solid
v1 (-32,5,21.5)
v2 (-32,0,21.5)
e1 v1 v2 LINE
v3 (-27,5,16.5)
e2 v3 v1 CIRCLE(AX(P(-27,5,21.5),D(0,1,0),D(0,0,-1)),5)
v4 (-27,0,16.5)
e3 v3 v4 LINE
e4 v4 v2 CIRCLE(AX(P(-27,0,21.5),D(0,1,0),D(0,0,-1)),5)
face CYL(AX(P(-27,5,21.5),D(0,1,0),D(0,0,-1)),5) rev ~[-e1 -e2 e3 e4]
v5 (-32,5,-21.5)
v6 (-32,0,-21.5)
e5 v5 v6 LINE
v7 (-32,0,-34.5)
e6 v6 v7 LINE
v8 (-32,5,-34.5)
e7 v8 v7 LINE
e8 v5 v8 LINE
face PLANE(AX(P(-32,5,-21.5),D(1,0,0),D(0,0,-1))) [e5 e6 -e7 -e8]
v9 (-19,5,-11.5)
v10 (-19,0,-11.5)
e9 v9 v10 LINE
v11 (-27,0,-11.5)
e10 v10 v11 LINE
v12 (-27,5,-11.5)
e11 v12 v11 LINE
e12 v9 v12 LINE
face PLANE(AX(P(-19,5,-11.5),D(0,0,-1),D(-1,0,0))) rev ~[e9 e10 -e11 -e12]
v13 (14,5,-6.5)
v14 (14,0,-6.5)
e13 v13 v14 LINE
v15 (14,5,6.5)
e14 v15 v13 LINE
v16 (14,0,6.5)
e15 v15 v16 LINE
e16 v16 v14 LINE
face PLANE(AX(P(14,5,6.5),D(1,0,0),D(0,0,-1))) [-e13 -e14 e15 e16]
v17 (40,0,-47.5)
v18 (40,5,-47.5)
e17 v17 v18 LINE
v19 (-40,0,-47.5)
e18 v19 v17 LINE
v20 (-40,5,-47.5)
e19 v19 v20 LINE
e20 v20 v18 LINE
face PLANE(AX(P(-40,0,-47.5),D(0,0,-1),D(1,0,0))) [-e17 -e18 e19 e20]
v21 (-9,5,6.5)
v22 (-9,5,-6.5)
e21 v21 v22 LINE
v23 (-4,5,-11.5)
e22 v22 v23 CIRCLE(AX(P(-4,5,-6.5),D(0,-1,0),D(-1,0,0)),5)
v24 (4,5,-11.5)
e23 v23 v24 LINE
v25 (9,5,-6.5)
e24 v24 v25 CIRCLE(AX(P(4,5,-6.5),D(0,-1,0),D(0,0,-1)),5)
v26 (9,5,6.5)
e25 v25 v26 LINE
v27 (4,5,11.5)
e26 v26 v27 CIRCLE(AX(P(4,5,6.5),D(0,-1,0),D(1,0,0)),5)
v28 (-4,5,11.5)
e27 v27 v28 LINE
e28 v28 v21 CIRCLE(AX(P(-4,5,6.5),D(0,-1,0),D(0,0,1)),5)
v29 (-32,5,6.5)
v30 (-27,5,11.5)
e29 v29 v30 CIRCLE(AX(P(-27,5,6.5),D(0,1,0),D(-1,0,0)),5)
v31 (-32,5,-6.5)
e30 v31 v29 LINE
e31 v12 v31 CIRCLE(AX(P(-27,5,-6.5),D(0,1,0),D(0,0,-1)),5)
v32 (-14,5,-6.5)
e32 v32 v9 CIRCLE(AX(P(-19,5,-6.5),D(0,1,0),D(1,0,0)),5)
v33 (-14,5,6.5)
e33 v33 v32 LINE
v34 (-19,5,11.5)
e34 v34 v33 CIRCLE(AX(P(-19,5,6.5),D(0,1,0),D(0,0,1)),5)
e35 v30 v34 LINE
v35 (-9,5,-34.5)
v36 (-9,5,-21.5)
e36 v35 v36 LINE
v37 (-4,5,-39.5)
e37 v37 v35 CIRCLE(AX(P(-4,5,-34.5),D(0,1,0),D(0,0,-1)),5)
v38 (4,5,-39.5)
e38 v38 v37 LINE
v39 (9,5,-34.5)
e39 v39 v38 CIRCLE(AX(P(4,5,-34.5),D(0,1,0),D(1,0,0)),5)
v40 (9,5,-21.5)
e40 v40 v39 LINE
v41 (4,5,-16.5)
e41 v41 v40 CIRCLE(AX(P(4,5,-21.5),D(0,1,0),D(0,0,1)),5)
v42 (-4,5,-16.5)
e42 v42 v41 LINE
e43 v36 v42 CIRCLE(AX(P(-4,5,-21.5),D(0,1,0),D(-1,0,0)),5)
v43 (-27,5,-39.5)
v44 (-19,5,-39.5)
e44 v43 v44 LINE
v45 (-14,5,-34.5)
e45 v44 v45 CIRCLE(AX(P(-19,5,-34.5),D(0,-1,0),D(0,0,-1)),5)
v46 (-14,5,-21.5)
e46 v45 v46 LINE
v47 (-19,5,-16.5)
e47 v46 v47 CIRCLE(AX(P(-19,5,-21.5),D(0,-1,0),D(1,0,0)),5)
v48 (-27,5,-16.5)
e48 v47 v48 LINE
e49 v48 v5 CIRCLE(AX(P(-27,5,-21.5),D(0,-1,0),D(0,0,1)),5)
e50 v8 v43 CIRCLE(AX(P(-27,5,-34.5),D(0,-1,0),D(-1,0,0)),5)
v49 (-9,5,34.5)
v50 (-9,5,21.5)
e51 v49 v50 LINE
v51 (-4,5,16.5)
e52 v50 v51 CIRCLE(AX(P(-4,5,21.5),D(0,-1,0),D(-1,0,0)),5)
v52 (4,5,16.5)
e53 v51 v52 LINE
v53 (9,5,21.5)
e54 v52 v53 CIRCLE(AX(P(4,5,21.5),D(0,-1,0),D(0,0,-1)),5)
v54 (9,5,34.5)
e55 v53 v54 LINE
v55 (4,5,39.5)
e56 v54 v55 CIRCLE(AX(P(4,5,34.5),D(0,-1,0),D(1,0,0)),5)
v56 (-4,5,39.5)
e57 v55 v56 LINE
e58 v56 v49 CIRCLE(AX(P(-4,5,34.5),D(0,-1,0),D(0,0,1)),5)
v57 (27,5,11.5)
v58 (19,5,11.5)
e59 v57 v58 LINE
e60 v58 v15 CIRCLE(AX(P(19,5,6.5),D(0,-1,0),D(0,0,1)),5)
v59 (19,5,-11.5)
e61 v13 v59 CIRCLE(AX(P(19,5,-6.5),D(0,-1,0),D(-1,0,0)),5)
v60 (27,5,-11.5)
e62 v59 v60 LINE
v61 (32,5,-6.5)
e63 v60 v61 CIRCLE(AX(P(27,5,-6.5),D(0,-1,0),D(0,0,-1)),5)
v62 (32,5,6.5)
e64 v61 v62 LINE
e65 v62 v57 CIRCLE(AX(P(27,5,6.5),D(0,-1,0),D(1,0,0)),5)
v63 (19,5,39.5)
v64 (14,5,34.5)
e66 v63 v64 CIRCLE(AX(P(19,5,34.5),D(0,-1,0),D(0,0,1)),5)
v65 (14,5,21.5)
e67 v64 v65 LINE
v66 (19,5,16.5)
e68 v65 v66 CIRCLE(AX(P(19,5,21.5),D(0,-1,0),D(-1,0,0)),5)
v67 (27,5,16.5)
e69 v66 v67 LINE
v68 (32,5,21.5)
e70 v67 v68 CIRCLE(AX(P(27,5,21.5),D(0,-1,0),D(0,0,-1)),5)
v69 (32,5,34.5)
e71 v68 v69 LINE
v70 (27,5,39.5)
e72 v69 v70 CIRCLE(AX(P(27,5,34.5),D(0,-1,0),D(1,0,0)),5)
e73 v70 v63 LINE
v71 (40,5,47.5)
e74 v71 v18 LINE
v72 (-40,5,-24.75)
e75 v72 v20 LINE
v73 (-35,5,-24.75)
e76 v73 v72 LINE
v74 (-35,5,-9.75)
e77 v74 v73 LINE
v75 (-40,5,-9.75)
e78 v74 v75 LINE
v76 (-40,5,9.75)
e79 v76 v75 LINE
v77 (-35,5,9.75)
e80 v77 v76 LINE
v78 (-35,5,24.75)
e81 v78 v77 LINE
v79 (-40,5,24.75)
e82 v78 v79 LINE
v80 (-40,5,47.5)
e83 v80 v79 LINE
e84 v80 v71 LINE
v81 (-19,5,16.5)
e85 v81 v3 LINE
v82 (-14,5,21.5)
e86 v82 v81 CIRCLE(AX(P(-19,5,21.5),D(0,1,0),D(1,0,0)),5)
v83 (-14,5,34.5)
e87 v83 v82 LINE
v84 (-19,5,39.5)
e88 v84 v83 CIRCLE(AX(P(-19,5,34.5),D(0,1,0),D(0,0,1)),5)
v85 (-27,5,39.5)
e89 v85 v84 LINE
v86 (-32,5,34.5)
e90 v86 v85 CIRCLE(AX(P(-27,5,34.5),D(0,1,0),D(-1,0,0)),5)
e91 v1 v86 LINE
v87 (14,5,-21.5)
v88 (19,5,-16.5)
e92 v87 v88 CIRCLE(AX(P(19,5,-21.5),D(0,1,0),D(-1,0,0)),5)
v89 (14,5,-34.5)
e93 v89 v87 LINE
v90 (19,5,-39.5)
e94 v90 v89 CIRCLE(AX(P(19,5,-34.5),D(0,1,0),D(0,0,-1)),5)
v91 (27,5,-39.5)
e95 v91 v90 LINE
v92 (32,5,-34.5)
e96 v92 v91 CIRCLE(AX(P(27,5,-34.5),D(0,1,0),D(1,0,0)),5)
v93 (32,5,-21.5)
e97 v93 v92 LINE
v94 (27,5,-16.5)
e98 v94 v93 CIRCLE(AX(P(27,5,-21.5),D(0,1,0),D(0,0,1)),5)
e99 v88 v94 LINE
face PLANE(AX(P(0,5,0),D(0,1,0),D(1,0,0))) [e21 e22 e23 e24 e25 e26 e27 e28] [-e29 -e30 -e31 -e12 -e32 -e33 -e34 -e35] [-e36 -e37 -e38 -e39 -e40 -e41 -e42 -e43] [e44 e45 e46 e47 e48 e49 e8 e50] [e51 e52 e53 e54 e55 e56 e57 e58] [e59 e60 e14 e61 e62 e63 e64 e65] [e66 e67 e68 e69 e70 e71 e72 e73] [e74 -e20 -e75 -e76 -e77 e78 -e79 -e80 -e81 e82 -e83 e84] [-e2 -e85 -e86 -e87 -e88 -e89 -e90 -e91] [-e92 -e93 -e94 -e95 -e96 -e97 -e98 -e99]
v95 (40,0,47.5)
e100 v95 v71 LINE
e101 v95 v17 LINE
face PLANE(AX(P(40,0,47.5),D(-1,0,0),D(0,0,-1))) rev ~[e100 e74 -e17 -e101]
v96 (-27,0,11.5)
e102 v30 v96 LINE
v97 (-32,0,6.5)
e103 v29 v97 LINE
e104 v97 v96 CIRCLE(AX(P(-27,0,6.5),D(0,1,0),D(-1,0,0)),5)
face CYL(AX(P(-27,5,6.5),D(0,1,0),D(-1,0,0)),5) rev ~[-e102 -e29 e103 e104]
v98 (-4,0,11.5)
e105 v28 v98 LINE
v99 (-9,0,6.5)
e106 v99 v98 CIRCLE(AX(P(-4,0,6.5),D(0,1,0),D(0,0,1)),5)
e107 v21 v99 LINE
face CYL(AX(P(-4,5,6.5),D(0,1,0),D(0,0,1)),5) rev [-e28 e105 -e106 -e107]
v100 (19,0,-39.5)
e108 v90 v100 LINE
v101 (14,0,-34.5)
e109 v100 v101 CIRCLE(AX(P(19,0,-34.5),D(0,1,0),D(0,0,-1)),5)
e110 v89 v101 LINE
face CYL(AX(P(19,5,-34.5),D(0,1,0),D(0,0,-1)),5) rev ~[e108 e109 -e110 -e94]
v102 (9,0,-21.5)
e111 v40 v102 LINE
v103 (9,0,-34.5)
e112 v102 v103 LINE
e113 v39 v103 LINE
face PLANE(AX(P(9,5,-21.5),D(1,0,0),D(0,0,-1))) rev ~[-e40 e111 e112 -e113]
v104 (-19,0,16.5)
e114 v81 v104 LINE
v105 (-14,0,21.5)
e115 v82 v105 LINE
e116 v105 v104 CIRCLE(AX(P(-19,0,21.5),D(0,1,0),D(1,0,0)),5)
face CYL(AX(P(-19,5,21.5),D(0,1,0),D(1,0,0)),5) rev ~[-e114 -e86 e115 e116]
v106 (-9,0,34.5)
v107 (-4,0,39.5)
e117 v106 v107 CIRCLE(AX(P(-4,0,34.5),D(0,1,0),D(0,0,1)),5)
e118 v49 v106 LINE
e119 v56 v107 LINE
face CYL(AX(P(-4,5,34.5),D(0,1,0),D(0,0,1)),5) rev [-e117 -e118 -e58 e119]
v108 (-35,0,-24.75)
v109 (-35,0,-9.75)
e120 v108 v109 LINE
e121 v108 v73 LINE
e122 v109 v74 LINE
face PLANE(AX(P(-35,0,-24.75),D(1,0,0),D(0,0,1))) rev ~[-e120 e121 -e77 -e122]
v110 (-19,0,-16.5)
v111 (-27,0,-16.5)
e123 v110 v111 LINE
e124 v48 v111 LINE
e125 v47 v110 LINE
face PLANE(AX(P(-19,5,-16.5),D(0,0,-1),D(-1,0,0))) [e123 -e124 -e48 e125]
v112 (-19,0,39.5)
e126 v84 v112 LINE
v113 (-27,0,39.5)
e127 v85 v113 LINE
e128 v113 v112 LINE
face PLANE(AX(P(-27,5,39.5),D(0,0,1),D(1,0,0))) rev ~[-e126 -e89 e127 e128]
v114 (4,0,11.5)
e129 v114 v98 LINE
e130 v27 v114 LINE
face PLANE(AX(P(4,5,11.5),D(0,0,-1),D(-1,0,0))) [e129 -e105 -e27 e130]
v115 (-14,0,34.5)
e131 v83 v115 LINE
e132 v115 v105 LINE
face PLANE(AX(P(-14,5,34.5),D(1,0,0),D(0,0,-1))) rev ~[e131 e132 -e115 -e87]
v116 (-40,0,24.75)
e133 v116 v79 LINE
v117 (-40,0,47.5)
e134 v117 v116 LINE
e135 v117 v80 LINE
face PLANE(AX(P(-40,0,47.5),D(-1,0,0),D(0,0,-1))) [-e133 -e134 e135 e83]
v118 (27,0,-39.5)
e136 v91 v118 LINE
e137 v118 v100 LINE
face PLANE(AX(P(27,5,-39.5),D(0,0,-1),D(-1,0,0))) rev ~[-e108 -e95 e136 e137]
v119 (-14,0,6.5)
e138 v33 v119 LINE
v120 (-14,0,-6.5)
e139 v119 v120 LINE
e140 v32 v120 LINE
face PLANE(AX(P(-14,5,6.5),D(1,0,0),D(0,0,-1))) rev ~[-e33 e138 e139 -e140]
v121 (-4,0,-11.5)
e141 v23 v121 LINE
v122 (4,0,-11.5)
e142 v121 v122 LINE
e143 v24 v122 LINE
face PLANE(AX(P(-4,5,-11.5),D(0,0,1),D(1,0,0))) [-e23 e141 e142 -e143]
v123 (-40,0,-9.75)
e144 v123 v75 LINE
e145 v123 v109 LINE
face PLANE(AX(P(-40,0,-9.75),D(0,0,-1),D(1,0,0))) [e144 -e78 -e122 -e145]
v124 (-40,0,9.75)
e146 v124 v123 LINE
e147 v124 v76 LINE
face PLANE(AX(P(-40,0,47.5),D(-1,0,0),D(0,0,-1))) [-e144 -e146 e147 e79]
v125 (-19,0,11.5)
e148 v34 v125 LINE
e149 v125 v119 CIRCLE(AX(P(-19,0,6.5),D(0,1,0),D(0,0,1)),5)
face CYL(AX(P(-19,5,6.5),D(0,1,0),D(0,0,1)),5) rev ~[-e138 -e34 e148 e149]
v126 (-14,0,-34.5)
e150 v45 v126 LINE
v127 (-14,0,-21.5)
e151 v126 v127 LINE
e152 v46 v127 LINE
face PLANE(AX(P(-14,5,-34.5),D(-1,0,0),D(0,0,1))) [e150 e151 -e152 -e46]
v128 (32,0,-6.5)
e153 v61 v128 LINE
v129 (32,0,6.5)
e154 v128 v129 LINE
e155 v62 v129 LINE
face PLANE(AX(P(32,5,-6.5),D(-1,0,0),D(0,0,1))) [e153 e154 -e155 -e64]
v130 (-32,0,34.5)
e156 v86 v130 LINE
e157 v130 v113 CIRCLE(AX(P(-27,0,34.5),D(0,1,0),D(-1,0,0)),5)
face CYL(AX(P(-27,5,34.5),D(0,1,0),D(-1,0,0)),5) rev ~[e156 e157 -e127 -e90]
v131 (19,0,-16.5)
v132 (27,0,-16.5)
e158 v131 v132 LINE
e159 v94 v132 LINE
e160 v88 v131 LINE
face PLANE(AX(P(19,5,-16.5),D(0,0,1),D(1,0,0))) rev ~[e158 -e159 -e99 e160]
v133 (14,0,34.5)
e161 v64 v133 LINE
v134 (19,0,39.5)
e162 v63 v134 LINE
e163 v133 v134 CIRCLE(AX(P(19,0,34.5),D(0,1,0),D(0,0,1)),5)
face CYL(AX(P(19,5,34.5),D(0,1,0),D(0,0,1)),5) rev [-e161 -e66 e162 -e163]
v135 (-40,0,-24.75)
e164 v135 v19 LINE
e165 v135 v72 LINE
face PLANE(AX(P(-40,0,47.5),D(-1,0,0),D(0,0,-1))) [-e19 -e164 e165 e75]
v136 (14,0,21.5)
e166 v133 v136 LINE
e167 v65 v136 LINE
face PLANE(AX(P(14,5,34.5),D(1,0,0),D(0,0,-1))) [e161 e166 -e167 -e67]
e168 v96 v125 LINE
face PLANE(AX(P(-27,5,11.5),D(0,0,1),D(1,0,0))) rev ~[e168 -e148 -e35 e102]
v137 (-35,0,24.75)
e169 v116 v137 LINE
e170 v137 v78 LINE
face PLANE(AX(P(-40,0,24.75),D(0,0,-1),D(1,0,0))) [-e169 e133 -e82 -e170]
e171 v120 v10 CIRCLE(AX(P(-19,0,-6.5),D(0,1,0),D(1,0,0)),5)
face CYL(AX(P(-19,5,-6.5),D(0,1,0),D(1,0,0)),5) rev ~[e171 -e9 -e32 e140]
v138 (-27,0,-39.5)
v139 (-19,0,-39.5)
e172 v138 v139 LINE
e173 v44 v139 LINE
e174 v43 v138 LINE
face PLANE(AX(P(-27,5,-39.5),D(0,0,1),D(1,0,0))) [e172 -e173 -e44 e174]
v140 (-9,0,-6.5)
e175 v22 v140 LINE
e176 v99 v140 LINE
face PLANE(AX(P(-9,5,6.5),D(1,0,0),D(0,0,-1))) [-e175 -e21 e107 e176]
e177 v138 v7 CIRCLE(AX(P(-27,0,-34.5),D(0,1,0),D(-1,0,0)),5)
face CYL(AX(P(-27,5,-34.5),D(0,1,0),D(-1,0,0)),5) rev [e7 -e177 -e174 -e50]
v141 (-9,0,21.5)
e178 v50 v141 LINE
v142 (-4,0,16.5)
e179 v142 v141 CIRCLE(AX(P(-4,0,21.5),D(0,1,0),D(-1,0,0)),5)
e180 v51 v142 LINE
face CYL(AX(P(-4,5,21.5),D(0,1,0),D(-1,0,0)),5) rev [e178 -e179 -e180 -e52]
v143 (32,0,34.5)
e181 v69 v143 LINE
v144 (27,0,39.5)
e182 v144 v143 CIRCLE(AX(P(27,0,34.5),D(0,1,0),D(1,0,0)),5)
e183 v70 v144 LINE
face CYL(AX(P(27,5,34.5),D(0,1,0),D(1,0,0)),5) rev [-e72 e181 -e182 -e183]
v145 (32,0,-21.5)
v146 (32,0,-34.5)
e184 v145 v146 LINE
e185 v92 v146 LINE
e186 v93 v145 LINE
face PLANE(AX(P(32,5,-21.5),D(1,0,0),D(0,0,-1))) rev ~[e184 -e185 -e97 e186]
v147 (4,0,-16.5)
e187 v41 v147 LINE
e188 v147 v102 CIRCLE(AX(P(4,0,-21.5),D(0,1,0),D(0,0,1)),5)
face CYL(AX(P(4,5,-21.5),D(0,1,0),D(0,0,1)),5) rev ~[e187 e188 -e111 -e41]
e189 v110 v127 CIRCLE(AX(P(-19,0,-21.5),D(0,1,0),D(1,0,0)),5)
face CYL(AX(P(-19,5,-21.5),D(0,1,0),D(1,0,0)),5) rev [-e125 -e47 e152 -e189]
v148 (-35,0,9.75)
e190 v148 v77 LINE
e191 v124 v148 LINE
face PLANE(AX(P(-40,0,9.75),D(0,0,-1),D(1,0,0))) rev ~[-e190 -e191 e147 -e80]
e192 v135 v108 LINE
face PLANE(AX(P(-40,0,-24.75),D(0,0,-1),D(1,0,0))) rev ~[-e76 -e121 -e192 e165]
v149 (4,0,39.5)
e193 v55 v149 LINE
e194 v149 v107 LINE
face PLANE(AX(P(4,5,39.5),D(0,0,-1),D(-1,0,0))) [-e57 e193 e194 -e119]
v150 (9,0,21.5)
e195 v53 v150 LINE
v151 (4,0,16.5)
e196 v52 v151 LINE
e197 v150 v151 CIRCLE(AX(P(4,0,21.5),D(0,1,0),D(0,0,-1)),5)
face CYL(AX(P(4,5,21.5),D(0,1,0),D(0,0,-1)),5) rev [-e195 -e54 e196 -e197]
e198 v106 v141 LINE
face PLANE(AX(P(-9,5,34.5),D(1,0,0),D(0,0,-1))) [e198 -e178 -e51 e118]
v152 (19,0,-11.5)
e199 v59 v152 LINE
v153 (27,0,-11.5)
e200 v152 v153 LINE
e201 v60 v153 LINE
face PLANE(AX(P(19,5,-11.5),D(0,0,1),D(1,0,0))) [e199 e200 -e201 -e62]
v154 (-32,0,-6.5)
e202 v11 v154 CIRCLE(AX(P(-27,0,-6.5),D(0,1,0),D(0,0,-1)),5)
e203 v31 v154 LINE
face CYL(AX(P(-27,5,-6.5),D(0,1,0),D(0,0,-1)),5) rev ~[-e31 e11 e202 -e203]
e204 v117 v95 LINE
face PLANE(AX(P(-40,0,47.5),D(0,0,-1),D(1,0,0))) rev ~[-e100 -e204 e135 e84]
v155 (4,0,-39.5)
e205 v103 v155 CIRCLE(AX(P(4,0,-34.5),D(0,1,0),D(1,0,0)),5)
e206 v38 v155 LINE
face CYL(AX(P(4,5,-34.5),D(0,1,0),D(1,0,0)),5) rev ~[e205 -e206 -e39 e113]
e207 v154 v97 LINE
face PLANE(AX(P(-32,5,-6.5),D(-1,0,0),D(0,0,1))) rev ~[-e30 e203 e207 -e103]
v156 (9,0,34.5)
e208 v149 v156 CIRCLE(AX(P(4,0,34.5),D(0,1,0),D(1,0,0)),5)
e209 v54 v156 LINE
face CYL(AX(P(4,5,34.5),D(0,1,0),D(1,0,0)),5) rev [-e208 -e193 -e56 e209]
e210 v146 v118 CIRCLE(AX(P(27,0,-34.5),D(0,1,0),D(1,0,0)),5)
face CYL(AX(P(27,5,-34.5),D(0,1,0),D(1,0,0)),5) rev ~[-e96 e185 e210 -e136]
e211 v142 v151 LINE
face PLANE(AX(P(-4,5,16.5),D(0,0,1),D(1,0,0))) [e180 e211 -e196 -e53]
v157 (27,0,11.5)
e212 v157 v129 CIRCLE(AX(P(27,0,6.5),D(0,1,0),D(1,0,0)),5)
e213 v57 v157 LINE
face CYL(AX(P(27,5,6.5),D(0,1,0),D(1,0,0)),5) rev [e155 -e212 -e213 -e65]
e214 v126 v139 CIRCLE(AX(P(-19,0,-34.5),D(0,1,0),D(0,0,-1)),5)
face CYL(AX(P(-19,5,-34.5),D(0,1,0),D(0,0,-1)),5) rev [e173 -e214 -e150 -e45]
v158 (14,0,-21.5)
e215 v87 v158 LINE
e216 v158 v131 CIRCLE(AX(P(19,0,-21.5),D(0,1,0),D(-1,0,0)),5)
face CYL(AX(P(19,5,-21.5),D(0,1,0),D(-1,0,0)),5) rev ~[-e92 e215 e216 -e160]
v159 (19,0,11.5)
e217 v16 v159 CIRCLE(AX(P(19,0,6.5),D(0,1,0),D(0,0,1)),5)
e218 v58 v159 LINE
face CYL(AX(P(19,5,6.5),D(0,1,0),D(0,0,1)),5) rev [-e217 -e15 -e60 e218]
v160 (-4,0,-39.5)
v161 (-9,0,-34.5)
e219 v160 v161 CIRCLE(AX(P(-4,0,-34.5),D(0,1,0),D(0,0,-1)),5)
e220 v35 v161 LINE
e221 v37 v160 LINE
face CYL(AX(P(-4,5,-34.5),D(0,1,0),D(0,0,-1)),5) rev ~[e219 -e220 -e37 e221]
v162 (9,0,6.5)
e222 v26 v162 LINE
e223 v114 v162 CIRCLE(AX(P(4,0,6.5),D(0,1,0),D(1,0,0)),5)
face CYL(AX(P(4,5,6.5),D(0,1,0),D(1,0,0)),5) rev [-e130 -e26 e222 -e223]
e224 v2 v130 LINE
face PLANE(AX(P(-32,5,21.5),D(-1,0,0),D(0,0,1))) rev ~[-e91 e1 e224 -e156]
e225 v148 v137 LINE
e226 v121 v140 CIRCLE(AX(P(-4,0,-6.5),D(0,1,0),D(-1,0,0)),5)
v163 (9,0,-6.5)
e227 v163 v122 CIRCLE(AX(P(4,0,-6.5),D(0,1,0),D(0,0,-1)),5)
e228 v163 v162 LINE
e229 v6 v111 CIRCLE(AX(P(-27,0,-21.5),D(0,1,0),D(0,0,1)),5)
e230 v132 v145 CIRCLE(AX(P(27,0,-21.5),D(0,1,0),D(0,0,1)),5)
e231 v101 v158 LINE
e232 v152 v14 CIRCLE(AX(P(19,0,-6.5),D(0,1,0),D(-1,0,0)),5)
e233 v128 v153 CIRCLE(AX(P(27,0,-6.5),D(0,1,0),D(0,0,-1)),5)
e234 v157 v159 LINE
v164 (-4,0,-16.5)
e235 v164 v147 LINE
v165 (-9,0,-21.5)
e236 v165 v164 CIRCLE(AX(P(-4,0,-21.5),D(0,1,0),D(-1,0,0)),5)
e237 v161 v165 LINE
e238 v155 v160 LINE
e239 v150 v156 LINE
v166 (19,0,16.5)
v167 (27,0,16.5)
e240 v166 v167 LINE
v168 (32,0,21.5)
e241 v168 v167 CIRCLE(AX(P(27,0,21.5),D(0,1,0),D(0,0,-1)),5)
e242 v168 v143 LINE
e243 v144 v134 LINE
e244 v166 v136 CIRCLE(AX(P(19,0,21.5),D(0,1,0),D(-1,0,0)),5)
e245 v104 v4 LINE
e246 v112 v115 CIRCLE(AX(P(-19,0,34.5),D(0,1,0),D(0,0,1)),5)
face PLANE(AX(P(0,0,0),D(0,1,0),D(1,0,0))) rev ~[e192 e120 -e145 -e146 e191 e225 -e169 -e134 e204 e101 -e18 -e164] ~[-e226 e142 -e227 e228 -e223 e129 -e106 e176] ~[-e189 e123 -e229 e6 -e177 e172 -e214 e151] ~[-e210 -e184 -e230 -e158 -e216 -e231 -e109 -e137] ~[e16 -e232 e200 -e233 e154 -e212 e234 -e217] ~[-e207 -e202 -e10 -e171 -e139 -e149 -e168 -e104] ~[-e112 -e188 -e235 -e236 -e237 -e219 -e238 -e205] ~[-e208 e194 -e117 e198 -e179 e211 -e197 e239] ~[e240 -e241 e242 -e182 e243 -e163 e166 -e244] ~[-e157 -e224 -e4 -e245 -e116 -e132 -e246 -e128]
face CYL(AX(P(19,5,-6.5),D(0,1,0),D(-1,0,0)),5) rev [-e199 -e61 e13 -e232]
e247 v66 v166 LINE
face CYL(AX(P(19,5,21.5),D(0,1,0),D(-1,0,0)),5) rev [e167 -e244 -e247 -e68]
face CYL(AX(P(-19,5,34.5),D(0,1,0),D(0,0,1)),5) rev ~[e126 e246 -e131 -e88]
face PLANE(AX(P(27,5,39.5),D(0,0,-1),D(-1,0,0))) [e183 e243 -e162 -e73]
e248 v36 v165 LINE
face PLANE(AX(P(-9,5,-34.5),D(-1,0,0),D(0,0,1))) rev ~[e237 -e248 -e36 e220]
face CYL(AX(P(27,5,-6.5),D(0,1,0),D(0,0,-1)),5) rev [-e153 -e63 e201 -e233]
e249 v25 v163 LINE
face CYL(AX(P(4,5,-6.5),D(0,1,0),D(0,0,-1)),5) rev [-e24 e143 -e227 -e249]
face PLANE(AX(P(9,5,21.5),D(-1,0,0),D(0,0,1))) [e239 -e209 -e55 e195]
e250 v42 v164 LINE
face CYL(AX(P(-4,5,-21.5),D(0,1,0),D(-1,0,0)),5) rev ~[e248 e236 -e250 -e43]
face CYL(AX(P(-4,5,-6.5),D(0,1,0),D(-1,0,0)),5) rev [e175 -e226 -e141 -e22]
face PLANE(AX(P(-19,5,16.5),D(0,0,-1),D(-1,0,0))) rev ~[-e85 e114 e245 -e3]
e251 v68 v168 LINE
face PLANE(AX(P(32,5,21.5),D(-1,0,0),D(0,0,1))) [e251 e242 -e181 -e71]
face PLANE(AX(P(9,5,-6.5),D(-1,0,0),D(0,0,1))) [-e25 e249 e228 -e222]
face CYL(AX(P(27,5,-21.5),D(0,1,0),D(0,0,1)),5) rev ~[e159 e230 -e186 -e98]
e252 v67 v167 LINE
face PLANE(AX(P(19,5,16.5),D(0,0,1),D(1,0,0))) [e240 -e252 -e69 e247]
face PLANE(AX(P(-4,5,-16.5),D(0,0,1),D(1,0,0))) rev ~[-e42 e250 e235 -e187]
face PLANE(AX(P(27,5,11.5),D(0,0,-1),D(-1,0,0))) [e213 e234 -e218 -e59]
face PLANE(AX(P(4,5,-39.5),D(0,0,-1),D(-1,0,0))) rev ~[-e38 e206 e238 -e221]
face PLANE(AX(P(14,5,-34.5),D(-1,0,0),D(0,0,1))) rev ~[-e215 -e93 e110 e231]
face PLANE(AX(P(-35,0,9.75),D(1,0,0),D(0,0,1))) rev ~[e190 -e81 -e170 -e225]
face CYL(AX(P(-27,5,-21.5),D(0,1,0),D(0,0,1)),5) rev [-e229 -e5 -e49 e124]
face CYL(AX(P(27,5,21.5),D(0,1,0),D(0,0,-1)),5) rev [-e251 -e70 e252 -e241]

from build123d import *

# Parameters (mm, degrees)
SKETCH_1_W          = 80
SKETCH_1_H          = 95
EXTRUDE_1_DEPTH     = 5
CUT_EXTRUDE_2_DEPTH = 10
SKETCH_18_W         = 5
SKETCH_18_H         = 15
CUT_EXTRUDE_4_DEPTH = 10


with BuildPart() as part:
    # 스케치1 → 보스-돌출1 (new body)
    with BuildSketch(Plane(origin=(0, 0, 0), x_dir=(1, 0, 0), z_dir=(0, 1, 0))):
        Rectangle(SKETCH_1_W, SKETCH_1_H)
    extrude(amount=EXTRUDE_1_DEPTH)

    # 스케치9 → 컷-돌출2 (cut)
    with BuildSketch(Plane(origin=(0, 5, 0), x_dir=(1, 0, 0), z_dir=(0, 1, 0))):
        with BuildLine():
            Line((-27, 39.5), (-19, 39.5))
            ThreePointArc((-19, 39.5), (-15.464466094, 38.035533906), (-14, 34.5))
            Line((-14, 34.5), (-14, 21.5))
            ThreePointArc((-14, 21.5), (-15.464466094, 17.964466094), (-19, 16.5))
            Line((-19, 16.5), (-27, 16.5))
            ThreePointArc((-27, 16.5), (-30.535533906, 17.964466094), (-32, 21.5))
            Line((-32, 21.5), (-32, 34.5))
            ThreePointArc((-32, 34.5), (-30.535533906, 38.035533906), (-27, 39.5))
        make_face()
        with BuildLine():
            Line((14, 34.5), (14, 21.5))
            ThreePointArc((14, 21.5), (15.464466094, 17.964466094), (19, 16.5))
            Line((19, 16.5), (27, 16.5))
            ThreePointArc((27, 16.5), (30.535533906, 17.964466094), (32, 21.5))
            Line((32, 21.5), (32, 34.5))
            ThreePointArc((32, 34.5), (30.535533906, 38.035533906), (27, 39.5))
            Line((27, 39.5), (19, 39.5))
            ThreePointArc((19, 39.5), (15.464466094, 38.035533906), (14, 34.5))
        make_face()
        with BuildLine():
            Line((4, 39.5), (-4, 39.5))
            ThreePointArc((-4, 39.5), (-7.535533906, 38.035533906), (-9, 34.5))
            Line((-9, 34.5), (-9, 21.5))
            ThreePointArc((-9, 21.5), (-7.535533906, 17.964466094), (-4, 16.5))
            Line((-4, 16.5), (4, 16.5))
            ThreePointArc((4, 16.5), (7.535533906, 17.964466094), (9, 21.5))
            Line((9, 21.5), (9, 34.5))
            ThreePointArc((9, 34.5), (7.535533906, 38.035533906), (4, 39.5))
        make_face()
        with BuildLine():
            Line((-19, -16.5), (-27, -16.5))
            ThreePointArc((-27, -16.5), (-30.535533906, -17.964466094), (-32, -21.5))
            Line((-32, -21.5), (-32, -34.5))
            ThreePointArc((-32, -34.5), (-30.535533906, -38.035533906), (-27, -39.5))
            Line((-27, -39.5), (-19, -39.5))
            ThreePointArc((-19, -39.5), (-15.464466094, -38.035533906), (-14, -34.5))
            Line((-14, -34.5), (-14, -21.5))
            ThreePointArc((-14, -21.5), (-15.464466094, -17.964466094), (-19, -16.5))
        make_face()
        with BuildLine():
            Line((-19, 11.5), (-27, 11.5))
            ThreePointArc((-27, 11.5), (-30.535533906, 10.035533906), (-32, 6.5))
            Line((-32, 6.5), (-32, -6.5))
            ThreePointArc((-32, -6.5), (-30.535533906, -10.035533906), (-27, -11.5))
            Line((-27, -11.5), (-19, -11.5))
            ThreePointArc((-19, -11.5), (-15.464466094, -10.035533906), (-14, -6.5))
            Line((-14, -6.5), (-14, 6.5))
            ThreePointArc((-14, 6.5), (-15.464466094, 10.035533906), (-19, 11.5))
        make_face()
        with BuildLine():
            Line((-4, 11.5), (4, 11.5))
            ThreePointArc((4, 11.5), (7.535533906, 10.035533906), (9, 6.5))
            Line((9, 6.5), (9, -6.5))
            ThreePointArc((9, -6.5), (7.535533906, -10.035533906), (4, -11.5))
            Line((4, -11.5), (-4, -11.5))
            ThreePointArc((-4, -11.5), (-7.535533906, -10.035533906), (-9, -6.5))
            Line((-9, -6.5), (-9, 6.5))
            ThreePointArc((-9, 6.5), (-7.535533906, 10.035533906), (-4, 11.5))
        make_face()
        with BuildLine():
            Line((19, 11.5), (27, 11.5))
            ThreePointArc((27, 11.5), (30.535533906, 10.035533906), (32, 6.5))
            Line((32, 6.5), (32, -6.5))
            ThreePointArc((32, -6.5), (30.535533906, -10.035533906), (27, -11.5))
            Line((27, -11.5), (19, -11.5))
            ThreePointArc((19, -11.5), (15.464466094, -10.035533906), (14, -6.5))
            Line((14, -6.5), (14, 6.5))
            ThreePointArc((14, 6.5), (15.464466094, 10.035533906), (19, 11.5))
        make_face()
        with BuildLine():
            Line((-4, -16.5), (4, -16.5))
            ThreePointArc((4, -16.5), (7.535533906, -17.964466094), (9, -21.5))
            Line((9, -21.5), (9, -34.5))
            ThreePointArc((9, -34.5), (7.535533906, -38.035533906), (4, -39.5))
            Line((4, -39.5), (-4, -39.5))
            ThreePointArc((-4, -39.5), (-7.535533906, -38.035533906), (-9, -34.5))
            Line((-9, -34.5), (-9, -21.5))
            ThreePointArc((-9, -21.5), (-7.535533906, -17.964466094), (-4, -16.5))
        make_face()
        with BuildLine():
            Line((19, -16.5), (27, -16.5))
            ThreePointArc((27, -16.5), (30.535533906, -17.964466094), (32, -21.5))
            Line((32, -21.5), (32, -34.5))
            ThreePointArc((32, -34.5), (30.535533906, -38.035533906), (27, -39.5))
            Line((27, -39.5), (19, -39.5))
            ThreePointArc((19, -39.5), (15.464466094, -38.035533906), (14, -34.5))
            Line((14, -34.5), (14, -21.5))
            ThreePointArc((14, -21.5), (15.464466094, -17.964466094), (19, -16.5))
        make_face()
    extrude(amount=-CUT_EXTRUDE_2_DEPTH, mode=Mode.SUBTRACT)

    # 스케치18 → 컷-돌출4 (cut)
    with BuildSketch(Plane.XZ):
        with Locations((-37.5, -17.25)):
            Rectangle(SKETCH_18_W, SKETCH_18_H)
        with Locations((-37.5, 17.25)):
            Rectangle(SKETCH_18_W, SKETCH_18_H)
    extrude(amount=-CUT_EXTRUDE_4_DEPTH, mode=Mode.SUBTRACT)


solid = part.part
